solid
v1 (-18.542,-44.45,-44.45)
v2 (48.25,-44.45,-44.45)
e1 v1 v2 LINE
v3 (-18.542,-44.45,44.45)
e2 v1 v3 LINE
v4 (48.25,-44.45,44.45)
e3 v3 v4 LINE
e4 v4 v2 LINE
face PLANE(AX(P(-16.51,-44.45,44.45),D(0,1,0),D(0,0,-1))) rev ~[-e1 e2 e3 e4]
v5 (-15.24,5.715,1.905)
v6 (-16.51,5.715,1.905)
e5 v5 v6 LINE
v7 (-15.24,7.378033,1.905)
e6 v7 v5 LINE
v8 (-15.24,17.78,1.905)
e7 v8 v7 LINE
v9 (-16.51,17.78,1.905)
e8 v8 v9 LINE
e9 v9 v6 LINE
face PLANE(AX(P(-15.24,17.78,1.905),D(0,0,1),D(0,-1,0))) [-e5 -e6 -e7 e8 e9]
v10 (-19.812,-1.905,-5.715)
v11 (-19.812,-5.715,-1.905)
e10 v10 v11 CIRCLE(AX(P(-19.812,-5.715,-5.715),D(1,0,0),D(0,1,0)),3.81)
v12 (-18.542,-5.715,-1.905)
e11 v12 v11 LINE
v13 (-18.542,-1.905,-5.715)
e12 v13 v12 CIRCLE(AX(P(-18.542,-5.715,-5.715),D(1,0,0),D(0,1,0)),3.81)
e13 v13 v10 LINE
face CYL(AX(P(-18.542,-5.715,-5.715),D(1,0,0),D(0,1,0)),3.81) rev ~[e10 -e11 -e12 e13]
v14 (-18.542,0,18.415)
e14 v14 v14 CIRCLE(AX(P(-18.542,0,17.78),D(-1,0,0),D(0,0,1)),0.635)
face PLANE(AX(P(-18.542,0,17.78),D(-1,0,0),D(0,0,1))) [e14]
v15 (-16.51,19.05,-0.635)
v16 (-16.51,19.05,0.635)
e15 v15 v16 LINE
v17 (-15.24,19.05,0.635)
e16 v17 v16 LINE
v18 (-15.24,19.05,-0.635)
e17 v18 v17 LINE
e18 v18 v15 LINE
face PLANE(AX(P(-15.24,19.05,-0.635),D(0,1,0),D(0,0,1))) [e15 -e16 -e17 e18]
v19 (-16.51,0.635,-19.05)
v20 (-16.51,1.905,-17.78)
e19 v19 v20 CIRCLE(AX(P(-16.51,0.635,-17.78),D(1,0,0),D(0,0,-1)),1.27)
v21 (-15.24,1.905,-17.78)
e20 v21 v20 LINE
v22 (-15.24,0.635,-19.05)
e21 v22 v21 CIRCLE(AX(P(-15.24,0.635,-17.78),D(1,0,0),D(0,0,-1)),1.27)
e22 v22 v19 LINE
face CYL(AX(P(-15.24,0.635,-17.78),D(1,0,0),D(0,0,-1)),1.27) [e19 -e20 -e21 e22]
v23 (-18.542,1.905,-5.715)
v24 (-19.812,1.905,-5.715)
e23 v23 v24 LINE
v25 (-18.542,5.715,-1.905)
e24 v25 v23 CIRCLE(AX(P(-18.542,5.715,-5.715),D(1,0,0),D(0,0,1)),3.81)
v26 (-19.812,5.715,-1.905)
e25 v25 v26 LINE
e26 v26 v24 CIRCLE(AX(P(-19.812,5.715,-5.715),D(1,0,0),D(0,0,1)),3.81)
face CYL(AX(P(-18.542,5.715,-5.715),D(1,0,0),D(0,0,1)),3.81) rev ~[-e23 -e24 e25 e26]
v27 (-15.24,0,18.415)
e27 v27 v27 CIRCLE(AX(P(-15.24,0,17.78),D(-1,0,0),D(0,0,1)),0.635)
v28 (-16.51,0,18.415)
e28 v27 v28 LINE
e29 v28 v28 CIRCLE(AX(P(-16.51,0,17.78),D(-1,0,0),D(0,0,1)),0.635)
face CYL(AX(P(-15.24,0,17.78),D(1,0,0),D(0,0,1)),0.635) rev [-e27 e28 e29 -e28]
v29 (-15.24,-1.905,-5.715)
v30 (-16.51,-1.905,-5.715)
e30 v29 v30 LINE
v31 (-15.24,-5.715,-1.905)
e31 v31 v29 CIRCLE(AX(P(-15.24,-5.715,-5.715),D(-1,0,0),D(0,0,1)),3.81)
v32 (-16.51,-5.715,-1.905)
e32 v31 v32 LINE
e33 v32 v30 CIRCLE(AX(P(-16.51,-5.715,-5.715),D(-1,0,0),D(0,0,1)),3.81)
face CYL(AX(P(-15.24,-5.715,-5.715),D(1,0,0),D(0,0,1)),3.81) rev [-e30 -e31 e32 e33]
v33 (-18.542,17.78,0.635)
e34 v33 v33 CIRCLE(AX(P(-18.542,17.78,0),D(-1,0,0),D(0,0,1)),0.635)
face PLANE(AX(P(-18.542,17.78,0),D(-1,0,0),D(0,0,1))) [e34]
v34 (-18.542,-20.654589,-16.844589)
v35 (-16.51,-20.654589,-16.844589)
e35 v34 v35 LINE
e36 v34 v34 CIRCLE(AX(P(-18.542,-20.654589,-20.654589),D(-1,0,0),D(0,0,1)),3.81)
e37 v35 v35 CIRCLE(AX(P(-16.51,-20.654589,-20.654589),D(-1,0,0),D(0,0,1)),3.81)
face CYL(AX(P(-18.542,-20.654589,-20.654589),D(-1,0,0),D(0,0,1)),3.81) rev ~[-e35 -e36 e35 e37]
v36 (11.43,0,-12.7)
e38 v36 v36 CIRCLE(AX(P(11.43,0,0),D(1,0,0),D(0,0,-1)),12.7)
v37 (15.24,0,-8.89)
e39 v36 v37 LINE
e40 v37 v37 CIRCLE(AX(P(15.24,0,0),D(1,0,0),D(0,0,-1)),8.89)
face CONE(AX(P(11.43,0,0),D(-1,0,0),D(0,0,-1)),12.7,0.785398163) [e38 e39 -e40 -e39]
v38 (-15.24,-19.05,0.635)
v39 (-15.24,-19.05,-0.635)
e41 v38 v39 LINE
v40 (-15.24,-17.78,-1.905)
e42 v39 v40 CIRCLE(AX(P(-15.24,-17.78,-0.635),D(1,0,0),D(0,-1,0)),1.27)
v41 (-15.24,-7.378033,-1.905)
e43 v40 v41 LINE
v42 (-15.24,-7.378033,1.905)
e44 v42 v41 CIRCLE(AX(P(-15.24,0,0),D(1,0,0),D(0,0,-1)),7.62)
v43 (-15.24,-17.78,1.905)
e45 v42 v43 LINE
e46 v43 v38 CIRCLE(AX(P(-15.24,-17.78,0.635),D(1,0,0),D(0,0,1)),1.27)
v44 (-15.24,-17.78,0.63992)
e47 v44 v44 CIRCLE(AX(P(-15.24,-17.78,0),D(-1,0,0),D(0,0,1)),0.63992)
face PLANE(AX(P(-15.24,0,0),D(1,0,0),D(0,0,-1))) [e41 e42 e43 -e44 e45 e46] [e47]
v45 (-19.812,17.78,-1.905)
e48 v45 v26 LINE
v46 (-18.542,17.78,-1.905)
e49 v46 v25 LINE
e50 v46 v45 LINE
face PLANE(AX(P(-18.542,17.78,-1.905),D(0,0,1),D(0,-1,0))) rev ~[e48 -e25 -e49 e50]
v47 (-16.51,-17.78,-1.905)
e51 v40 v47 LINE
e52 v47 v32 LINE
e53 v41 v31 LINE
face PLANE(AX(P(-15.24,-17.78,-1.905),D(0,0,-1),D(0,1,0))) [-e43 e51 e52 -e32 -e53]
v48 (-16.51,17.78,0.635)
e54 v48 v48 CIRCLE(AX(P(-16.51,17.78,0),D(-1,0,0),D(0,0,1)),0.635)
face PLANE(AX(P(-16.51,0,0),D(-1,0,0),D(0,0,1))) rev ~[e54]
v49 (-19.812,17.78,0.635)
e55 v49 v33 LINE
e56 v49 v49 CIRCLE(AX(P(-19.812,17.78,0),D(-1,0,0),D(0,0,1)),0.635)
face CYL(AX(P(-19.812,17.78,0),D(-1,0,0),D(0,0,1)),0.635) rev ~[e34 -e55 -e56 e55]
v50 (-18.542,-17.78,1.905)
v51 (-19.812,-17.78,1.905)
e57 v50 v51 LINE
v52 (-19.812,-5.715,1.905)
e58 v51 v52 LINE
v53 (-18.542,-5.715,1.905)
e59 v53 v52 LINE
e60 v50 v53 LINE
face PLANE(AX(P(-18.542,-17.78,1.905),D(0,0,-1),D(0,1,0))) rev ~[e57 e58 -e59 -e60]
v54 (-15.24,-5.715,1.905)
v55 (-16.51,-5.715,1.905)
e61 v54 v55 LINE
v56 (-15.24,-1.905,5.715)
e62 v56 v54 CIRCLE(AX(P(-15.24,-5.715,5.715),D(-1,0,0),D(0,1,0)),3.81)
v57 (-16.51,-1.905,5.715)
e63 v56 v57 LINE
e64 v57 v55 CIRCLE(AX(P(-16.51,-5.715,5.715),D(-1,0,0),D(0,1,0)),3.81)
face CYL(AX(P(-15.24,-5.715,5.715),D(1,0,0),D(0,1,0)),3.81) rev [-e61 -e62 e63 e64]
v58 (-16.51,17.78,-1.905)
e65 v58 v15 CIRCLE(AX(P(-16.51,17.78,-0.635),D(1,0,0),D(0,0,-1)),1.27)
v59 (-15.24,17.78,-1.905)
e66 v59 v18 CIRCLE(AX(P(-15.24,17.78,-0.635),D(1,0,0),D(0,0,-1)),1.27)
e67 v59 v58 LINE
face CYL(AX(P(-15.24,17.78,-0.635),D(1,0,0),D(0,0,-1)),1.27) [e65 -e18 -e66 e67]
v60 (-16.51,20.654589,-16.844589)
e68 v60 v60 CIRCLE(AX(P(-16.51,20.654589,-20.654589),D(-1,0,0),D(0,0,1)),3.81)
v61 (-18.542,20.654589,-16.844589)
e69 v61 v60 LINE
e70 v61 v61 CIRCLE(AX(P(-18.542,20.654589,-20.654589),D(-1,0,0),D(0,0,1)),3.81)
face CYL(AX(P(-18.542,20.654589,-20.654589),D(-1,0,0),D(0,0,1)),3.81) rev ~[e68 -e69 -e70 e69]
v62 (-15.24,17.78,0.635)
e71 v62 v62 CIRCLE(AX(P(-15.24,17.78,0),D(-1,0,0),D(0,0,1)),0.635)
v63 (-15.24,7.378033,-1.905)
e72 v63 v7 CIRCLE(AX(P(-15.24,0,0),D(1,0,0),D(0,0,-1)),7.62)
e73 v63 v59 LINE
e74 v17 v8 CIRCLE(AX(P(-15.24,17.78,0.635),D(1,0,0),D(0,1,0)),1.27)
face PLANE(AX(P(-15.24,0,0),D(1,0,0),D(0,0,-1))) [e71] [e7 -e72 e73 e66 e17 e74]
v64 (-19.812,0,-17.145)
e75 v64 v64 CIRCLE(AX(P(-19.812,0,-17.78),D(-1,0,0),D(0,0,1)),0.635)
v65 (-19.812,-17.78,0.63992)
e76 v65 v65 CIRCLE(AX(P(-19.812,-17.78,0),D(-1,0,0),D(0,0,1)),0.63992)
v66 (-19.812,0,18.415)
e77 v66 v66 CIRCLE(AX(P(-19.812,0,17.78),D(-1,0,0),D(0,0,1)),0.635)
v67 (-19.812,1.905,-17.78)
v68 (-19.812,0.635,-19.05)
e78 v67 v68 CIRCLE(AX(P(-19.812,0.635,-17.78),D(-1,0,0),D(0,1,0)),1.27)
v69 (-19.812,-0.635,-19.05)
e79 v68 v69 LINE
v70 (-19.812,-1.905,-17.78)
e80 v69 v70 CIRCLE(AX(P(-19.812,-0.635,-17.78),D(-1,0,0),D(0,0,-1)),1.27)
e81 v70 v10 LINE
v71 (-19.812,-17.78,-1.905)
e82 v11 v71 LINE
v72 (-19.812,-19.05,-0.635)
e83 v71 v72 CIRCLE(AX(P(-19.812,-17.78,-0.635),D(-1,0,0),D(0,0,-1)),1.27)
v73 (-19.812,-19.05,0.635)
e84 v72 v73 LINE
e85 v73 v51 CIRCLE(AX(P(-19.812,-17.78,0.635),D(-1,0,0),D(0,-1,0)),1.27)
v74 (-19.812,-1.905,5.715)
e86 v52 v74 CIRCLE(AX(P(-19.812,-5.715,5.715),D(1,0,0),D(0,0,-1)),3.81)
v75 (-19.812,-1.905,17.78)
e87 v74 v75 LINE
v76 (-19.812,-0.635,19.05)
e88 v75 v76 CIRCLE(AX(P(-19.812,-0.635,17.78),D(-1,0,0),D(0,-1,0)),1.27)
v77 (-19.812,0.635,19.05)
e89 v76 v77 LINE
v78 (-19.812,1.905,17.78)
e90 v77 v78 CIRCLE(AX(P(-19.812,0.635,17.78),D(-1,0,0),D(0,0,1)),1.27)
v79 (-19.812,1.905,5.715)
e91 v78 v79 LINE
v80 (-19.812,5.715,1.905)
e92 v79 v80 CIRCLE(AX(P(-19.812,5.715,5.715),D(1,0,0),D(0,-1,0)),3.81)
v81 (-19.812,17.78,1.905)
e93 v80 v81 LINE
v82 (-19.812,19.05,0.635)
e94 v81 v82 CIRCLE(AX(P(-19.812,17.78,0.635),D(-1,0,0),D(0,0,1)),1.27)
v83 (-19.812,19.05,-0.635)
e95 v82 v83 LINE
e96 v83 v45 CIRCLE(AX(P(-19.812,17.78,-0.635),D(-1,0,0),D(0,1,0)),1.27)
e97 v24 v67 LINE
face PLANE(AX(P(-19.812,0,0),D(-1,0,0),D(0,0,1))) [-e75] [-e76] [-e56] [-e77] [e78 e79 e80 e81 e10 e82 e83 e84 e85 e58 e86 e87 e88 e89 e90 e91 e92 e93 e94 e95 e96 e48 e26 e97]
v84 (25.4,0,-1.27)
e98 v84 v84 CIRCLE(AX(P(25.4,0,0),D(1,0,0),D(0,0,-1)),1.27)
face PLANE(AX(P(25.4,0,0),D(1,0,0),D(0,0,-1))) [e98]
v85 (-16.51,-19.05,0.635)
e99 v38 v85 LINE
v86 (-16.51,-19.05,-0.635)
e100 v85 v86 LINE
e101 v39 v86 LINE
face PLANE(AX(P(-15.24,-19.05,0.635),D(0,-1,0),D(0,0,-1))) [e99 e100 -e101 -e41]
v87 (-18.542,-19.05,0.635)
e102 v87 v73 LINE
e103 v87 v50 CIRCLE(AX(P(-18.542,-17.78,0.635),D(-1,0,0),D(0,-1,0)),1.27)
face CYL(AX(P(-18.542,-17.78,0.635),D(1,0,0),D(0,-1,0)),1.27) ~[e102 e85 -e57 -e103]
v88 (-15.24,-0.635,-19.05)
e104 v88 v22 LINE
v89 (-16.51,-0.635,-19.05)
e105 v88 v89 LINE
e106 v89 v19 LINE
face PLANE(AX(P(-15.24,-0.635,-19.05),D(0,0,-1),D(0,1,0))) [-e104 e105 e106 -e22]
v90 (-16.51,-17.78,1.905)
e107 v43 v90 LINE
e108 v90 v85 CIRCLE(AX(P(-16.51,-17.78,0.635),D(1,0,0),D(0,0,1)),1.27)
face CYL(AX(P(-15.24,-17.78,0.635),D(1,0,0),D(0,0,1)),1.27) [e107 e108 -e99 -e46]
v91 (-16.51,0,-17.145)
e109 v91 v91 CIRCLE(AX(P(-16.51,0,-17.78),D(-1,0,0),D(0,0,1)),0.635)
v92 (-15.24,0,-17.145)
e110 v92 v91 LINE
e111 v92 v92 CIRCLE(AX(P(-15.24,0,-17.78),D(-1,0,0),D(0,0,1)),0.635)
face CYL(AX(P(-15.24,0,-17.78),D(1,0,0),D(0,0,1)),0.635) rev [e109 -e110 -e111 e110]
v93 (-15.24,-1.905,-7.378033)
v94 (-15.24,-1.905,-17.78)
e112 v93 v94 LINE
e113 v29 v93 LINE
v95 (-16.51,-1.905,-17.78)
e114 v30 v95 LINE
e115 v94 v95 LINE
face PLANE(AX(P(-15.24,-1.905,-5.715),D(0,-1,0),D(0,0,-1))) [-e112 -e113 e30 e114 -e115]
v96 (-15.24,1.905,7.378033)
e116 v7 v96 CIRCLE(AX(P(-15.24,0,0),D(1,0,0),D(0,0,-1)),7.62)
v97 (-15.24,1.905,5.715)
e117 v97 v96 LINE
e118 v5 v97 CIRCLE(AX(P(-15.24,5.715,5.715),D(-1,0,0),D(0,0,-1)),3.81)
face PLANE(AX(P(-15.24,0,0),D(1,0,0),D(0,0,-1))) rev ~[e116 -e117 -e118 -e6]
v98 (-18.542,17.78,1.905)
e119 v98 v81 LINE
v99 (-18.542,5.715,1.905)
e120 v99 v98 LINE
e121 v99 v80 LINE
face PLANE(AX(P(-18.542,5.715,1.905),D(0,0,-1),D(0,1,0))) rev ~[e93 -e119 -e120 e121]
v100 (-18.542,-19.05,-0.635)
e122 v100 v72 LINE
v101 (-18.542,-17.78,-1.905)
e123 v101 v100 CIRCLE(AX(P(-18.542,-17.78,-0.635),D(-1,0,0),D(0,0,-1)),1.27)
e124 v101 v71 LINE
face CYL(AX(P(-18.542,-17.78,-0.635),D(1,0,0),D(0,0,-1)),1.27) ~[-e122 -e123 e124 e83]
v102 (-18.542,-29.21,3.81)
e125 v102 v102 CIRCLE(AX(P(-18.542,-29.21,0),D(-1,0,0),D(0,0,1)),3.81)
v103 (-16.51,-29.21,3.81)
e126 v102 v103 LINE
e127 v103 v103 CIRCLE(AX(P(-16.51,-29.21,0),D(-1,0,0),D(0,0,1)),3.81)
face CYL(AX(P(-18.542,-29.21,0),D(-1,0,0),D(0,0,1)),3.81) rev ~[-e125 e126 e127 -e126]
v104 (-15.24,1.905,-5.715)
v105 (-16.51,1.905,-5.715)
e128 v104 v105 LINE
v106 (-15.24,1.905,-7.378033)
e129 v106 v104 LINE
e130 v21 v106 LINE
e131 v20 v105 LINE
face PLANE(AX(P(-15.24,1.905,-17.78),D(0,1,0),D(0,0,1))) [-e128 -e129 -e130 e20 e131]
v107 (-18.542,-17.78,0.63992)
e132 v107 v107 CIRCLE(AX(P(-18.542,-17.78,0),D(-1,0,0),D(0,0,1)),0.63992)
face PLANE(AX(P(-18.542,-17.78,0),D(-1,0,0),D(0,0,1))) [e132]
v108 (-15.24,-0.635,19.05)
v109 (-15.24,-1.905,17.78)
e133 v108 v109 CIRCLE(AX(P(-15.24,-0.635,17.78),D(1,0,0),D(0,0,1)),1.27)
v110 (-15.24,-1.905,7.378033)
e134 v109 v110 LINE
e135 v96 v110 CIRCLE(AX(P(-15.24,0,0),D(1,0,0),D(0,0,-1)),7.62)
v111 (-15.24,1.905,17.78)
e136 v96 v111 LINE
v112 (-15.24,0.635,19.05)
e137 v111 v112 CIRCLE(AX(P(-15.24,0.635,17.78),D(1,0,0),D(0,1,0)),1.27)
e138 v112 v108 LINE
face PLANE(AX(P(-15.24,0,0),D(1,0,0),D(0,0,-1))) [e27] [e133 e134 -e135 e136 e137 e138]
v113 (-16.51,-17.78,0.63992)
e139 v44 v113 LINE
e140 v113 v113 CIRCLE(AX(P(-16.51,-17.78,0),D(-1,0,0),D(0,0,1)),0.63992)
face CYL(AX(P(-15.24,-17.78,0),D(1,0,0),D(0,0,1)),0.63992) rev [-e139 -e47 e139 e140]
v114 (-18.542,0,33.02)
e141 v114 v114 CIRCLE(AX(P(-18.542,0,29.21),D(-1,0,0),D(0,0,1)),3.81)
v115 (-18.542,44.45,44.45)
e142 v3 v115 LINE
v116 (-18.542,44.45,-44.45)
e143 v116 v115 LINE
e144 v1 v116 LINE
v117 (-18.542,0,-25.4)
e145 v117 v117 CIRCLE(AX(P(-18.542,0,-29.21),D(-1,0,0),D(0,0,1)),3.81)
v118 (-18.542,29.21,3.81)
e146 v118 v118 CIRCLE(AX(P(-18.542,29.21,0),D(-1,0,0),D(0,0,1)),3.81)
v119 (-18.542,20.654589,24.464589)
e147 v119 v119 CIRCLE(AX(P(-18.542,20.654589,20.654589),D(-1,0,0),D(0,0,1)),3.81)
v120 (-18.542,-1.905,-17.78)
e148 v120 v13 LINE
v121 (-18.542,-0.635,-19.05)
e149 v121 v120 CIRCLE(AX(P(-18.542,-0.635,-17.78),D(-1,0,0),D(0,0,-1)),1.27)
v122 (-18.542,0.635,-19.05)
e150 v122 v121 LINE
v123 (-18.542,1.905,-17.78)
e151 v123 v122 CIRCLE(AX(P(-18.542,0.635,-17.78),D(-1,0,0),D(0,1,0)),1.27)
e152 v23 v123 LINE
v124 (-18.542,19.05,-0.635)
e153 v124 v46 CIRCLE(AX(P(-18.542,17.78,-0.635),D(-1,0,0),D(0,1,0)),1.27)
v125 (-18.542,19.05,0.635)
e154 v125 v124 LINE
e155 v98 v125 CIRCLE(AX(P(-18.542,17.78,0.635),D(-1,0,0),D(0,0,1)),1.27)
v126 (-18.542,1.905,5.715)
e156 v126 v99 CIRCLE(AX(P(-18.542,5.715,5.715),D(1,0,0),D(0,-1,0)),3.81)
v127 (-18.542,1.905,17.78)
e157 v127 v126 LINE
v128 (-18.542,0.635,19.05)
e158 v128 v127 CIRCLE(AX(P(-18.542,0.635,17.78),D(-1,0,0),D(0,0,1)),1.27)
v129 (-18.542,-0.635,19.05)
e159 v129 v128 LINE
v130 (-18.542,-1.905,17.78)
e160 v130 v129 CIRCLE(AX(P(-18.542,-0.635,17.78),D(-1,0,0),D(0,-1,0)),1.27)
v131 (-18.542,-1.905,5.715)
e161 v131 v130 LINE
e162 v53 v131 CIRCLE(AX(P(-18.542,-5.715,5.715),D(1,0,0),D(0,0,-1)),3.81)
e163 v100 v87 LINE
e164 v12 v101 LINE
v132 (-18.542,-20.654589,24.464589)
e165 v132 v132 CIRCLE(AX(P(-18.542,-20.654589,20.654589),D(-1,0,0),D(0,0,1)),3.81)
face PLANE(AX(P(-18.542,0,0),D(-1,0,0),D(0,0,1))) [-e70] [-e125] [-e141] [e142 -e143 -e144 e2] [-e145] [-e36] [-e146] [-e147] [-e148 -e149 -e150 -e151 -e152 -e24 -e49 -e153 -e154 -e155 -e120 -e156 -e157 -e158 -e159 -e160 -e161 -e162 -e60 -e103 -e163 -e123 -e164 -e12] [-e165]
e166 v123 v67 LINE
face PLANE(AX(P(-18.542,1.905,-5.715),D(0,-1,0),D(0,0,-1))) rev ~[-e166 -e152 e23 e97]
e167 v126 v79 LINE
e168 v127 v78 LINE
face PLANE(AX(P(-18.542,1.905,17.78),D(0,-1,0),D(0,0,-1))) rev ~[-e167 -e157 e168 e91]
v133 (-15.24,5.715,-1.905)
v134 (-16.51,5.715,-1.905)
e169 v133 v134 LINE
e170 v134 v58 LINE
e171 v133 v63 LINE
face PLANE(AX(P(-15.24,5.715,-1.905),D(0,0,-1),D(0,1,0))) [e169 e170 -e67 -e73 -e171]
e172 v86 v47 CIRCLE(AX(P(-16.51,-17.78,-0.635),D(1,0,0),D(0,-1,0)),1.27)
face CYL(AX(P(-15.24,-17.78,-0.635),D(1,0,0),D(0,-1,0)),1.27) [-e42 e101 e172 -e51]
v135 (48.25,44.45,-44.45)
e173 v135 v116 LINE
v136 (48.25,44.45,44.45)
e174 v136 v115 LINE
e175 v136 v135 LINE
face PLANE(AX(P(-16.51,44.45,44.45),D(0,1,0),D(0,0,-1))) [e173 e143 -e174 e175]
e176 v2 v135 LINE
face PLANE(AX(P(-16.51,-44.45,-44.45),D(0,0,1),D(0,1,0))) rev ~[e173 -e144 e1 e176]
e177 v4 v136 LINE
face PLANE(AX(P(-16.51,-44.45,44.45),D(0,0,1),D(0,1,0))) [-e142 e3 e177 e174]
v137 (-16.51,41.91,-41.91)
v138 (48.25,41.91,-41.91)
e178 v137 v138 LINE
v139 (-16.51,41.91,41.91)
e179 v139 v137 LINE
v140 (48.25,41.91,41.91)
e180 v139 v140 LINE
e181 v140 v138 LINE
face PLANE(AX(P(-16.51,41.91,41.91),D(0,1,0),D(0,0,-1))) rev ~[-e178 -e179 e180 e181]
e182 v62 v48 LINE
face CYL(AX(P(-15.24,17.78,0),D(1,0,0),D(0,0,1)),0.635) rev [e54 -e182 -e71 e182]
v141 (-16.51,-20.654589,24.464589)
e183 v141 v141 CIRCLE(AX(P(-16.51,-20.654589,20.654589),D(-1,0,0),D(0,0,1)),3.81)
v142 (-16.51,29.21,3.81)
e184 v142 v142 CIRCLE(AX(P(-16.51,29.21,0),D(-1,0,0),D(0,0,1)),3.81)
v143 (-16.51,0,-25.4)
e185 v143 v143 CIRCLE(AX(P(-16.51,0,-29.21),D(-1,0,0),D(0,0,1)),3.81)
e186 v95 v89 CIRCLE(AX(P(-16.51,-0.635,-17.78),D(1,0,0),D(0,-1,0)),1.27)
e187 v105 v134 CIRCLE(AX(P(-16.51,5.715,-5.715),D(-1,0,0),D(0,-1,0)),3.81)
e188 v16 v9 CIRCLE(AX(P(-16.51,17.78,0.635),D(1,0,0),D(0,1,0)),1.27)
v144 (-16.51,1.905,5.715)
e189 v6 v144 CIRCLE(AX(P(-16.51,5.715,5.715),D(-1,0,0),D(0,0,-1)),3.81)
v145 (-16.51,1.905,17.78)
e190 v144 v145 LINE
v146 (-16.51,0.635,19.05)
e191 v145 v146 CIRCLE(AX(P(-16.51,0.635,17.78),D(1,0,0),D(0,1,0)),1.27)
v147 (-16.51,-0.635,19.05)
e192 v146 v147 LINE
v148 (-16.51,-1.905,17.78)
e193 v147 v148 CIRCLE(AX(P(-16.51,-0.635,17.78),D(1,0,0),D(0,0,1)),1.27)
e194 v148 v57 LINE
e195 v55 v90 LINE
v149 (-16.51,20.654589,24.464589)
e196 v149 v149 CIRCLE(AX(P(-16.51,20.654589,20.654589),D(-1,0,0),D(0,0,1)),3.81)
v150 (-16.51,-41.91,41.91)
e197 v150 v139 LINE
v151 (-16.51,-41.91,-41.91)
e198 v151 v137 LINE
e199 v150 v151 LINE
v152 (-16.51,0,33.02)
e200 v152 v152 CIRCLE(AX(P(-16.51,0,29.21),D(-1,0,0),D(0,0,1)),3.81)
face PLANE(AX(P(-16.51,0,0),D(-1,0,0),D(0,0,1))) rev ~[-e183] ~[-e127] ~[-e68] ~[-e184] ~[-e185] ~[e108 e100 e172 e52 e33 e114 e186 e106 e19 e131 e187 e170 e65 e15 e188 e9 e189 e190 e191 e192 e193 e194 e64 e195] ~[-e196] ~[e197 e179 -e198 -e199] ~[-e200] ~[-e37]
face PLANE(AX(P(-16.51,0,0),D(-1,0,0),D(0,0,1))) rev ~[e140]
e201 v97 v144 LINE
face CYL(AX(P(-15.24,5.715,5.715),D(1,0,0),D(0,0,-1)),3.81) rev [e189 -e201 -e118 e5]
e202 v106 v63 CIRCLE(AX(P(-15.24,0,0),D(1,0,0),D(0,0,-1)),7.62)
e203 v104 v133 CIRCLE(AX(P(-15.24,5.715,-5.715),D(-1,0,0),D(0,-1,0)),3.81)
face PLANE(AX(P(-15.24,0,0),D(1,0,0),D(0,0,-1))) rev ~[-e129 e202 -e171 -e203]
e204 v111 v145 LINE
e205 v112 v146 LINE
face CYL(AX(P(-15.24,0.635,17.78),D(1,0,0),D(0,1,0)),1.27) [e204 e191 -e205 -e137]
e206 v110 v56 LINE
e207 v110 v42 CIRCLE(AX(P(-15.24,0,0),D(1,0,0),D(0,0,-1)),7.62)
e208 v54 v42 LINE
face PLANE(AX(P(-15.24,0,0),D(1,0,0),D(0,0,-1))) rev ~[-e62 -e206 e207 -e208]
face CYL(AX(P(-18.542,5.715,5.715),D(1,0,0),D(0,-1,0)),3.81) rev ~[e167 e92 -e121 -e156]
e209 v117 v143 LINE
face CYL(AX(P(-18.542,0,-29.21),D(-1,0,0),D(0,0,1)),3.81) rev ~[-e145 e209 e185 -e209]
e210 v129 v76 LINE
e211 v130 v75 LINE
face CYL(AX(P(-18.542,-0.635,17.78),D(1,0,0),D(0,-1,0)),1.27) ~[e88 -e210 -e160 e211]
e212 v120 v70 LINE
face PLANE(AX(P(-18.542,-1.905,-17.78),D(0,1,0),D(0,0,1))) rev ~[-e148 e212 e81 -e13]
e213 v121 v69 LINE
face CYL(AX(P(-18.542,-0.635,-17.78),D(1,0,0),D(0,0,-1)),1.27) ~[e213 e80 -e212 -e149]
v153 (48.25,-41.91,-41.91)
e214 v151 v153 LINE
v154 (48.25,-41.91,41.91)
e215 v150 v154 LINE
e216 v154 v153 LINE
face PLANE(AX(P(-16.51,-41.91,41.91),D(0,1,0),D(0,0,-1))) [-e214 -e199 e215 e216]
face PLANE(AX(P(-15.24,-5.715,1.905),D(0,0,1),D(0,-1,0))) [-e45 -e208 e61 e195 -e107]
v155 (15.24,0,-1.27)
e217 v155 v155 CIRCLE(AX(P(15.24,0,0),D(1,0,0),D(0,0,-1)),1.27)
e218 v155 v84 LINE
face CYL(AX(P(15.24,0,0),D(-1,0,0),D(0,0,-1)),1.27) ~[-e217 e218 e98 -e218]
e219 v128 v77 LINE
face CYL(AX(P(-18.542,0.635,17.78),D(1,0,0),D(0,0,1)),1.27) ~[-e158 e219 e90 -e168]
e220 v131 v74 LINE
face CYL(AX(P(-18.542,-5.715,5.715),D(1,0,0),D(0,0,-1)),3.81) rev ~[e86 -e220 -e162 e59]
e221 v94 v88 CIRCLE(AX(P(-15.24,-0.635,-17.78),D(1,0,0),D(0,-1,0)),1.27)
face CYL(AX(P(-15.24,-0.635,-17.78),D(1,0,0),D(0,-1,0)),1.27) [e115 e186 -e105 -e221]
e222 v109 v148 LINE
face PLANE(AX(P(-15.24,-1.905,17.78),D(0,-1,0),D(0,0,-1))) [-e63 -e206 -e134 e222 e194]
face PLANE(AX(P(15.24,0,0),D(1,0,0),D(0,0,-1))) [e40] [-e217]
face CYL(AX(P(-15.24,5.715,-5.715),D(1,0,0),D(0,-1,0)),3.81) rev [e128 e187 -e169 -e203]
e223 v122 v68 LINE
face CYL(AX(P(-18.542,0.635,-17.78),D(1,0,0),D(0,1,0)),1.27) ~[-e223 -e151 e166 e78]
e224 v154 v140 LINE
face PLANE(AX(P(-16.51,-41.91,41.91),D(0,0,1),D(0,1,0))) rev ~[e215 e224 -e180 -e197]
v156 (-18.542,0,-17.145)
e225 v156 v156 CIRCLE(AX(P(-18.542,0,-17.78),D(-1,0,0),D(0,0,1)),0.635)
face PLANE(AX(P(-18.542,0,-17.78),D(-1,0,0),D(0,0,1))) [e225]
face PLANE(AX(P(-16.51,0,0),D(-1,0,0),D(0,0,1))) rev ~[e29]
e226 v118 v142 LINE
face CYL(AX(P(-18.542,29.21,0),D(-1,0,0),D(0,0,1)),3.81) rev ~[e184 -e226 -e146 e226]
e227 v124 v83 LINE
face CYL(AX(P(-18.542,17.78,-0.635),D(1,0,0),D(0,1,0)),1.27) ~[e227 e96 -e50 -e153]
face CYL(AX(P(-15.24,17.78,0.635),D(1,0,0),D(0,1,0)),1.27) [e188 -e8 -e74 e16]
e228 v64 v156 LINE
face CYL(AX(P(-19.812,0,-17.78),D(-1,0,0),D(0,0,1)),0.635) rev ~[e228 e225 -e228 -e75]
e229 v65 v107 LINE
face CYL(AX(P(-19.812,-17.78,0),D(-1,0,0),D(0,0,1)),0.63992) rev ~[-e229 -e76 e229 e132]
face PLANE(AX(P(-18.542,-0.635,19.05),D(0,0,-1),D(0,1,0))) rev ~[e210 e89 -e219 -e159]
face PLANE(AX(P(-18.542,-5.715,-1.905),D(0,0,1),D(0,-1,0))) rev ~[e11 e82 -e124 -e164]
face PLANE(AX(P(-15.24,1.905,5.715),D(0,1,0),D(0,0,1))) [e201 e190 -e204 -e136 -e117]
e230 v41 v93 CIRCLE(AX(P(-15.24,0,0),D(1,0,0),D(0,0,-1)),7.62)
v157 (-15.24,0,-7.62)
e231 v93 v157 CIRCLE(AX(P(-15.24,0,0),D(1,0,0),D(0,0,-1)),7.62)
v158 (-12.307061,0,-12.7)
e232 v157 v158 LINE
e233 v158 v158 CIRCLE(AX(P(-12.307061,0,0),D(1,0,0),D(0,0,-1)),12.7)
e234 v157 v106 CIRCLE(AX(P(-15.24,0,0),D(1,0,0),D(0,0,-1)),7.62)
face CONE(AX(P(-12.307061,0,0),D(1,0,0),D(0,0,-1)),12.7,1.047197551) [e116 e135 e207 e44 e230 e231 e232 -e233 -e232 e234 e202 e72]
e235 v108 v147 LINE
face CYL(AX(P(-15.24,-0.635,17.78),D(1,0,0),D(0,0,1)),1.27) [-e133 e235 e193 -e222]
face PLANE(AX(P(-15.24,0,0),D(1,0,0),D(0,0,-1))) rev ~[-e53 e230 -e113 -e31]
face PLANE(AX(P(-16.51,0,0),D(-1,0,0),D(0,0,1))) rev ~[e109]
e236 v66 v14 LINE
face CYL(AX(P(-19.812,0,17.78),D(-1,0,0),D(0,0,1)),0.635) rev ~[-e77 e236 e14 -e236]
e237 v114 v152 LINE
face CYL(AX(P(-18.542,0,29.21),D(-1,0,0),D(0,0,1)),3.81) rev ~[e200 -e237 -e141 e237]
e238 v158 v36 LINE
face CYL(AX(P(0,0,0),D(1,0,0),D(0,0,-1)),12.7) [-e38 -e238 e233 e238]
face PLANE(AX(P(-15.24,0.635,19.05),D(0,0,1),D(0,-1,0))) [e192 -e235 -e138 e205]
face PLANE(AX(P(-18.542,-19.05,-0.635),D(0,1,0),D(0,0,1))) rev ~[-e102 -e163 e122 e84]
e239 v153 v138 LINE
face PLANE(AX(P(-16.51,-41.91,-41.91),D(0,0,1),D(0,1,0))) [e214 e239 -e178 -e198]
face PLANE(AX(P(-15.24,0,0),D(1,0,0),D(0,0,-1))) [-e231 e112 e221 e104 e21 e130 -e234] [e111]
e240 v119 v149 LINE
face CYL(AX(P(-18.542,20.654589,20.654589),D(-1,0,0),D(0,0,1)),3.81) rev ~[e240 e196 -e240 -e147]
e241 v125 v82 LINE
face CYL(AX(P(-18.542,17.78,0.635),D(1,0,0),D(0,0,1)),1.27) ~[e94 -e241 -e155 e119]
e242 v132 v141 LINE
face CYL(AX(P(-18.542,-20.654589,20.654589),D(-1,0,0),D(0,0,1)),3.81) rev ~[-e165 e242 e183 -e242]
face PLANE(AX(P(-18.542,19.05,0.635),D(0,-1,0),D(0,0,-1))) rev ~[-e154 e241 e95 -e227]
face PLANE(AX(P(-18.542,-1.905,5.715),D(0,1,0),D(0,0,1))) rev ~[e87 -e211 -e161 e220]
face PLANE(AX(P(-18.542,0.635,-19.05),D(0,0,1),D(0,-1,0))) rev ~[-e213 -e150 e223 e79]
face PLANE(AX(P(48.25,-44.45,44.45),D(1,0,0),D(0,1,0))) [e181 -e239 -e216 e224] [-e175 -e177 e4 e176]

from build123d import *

# Parameters (mm, degrees)
SKETCH1_R           = 12.7
BOSS_EXTRUDE1_DEPTH = 15.24
CHAMFER1_SIZE       = 3.81
CHAMFER3_SIZE       = 5.08
CHAMFER3_SIZE2      = 2.932939367
SKETCH2_R           = 1.27
BOSS_EXTRUDE3_DEPTH = 10.16
SKETCH3_R           = 0.639919682
SKETCH3_R_2         = 0.635
BOSS_EXTRUDE5_DEPTH = 1.27
SKETCH4_W           = 88.9
SKETCH4_H           = 88.9
BOSS_EXTRUDE6_DEPTH = 2.032
SKETCH5_R           = 3.81
CUT_EXTRUDE2_DEPTH  = 44.942
BOSS_EXTRUDE7_DEPTH = 1.27
SKETCH8_R           = 0.635
SKETCH8_R_2         = 0.639919682
CUT_EXTRUDE3_DEPTH  = 1.27
SKETCH9_W           = 88.9
SKETCH9_H           = 88.9
SKETCH9_W_2         = 83.82
SKETCH9_H_2         = 83.82
BOSS_EXTRUDE8_DEPTH = 80
SKETCH11_W          = 15.24
SKETCH11_H          = 88.9
CUT_EXTRUDE4_DEPTH  = 89.9


with BuildPart() as part:
    # Sketch1 → Boss-Extrude1 (new body, symmetric)
    with BuildSketch(Plane(origin=(0, 0, 0), x_dir=(0, 0, -1), z_dir=(1, 0, 0))):
        Circle(SKETCH1_R)
    extrude(amount=BOSS_EXTRUDE1_DEPTH, both=True)

    # Chamfer1
    chamfer1_edges = [part.edges().sort_by_distance(p)[0] for p in [
        (15.24, 0, 12.7),
    ]]
    chamfer(chamfer1_edges, length=CHAMFER1_SIZE)

    # Chamfer3
    chamfer3_edges = [part.edges().sort_by_distance(p)[0] for p in [
        (-15.24, 0, 12.7),
    ]]
    chamfer3_side = [part.faces().sort_by_distance(p)[0] for p in [
        (-15.24, 0, 0),
    ]]
    chamfer(chamfer3_edges, length=CHAMFER3_SIZE, length2=CHAMFER3_SIZE2, reference=chamfer3_side[0])

    # Sketch2 → Boss-Extrude3 (add)
    with BuildSketch(Plane(origin=(15.24, 0, 0), x_dir=(0, 0, -1), z_dir=(1, 0, 0))):
        Circle(SKETCH2_R)
    extrude(amount=BOSS_EXTRUDE3_DEPTH)

    # Sketch3 → Boss-Extrude5 (add)
    with BuildSketch(Plane.ZY.offset(15.24)):
        with BuildLine():
            Line((-5.715, -1.905), (-17.78, -1.905))
            ThreePointArc((-17.78, -1.905), (-18.678025612, -1.533025612), (-19.05, -0.635))
            Line((-19.05, -0.635), (-19.05, 0.635))
            ThreePointArc((-19.05, 0.635), (-18.678025612, 1.533025612), (-17.78, 1.905))
            Line((-17.78, 1.905), (-5.715, 1.905))
            ThreePointArc((-5.715, 1.905), (-3.020923164, 3.020923164), (-1.905, 5.715))
            Line((-1.905, 5.715), (-1.905, 17.78))
            ThreePointArc((-1.905, 17.78), (-1.533025612, 18.678025612), (-0.635, 19.05))
            Line((-0.635, 19.05), (0.635, 19.05))
            ThreePointArc((0.635, 19.05), (1.533025612, 18.678025612), (1.905, 17.78))
            Line((1.905, 17.78), (1.905, 5.715))
            ThreePointArc((1.905, 5.715), (3.020923164, 3.020923164), (5.715, 1.905))
            Line((5.715, 1.905), (17.78, 1.905))
            ThreePointArc((17.78, 1.905), (18.678025612, 1.533025612), (19.05, 0.635))
            Line((19.05, 0.635), (19.05, -0.635))
            ThreePointArc((19.05, -0.635), (18.678025612, -1.533025612), (17.78, -1.905))
            Line((17.78, -1.905), (5.715, -1.905))
            ThreePointArc((5.715, -1.905), (3.020923164, -3.020923164), (1.905, -5.715))
            Line((1.905, -5.715), (1.905, -17.78))
            ThreePointArc((1.905, -17.78), (1.533025612, -18.678025612), (0.635, -19.05))
            Line((0.635, -19.05), (-0.635, -19.05))
            ThreePointArc((-0.635, -19.05), (-1.533025612, -18.678025612), (-1.905, -17.78))
            Line((-1.905, -17.78), (-1.905, -5.715))
            ThreePointArc((-1.905, -5.715), (-3.020923164, -3.020923164), (-5.715, -1.905))
        make_face()
        with Locations((0, -17.78)):
            Circle(SKETCH3_R, mode=Mode.SUBTRACT)
        with Locations((17.78, 0)):
            Circle(SKETCH3_R_2, mode=Mode.SUBTRACT)
        with Locations((0, 17.78)):
            Circle(SKETCH3_R_2, mode=Mode.SUBTRACT)
        with Locations((-17.78, 0)):
            Circle(SKETCH3_R_2, mode=Mode.SUBTRACT)
    extrude(amount=BOSS_EXTRUDE5_DEPTH)

    # Sketch4 → Boss-Extrude6 (add)
    with BuildSketch(Plane.ZY.offset(16.51)):
        Rectangle(SKETCH4_W, SKETCH4_H)
    extrude(amount=BOSS_EXTRUDE6_DEPTH)

    # Sketch5 → Cut-Extrude2 (cut, through all)
    with BuildSketch(Plane.ZY.offset(18.542)):
        with Locations((0, 29.21)):
            Circle(SKETCH5_R)
        with Locations((20.654589078, 20.654589078)):
            Circle(SKETCH5_R)
        with Locations((29.21, 0)):
            Circle(SKETCH5_R)
        with Locations((20.654589078, -20.654589078)):
            Circle(SKETCH5_R)
        with Locations((0, -29.21)):
            Circle(SKETCH5_R)
        with Locations((-20.654589078, -20.654589078)):
            Circle(SKETCH5_R)
        with Locations((-29.21, 0)):
            Circle(SKETCH5_R)
        with Locations((-20.654589078, 20.654589078)):
            Circle(SKETCH5_R)
    extrude(amount=-CUT_EXTRUDE2_DEPTH, mode=Mode.SUBTRACT)

    # Sketch7 → Boss-Extrude7 (add)
    with BuildSketch(Plane.ZY.offset(18.542)):
        with BuildLine():
            Line((1.905, 5.715), (1.905, 7.378033275))
            Line((1.905, 7.378033275), (1.905, 17.78))
            ThreePointArc((1.905, 17.78), (1.533025612, 18.678025612), (0.635, 19.05))
            Line((0.635, 19.05), (-0.635, 19.05))
            ThreePointArc((-0.635, 19.05), (-1.533025612, 18.678025612), (-1.905, 17.78))
            Line((-1.905, 17.78), (-1.905, 5.715))
            ThreePointArc((-1.905, 5.715), (-3.020923164, 3.020923164), (-5.715, 1.905))
            Line((-5.715, 1.905), (-7.378033275, 1.905))
            Line((-7.378033275, 1.905), (-17.78, 1.905))
            ThreePointArc((-17.78, 1.905), (-18.678025612, 1.533025612), (-19.05, 0.635))
            Line((-19.05, 0.635), (-19.05, -0.635))
            ThreePointArc((-19.05, -0.635), (-18.678025612, -1.533025612), (-17.78, -1.905))
            Line((-17.78, -1.905), (-7.378033275, -1.905))
            Line((-7.378033275, -1.905), (-5.715, -1.905))
            ThreePointArc((-5.715, -1.905), (-3.020923164, -3.020923164), (-1.905, -5.715))
            Line((-1.905, -5.715), (-1.905, -7.378033275))
            Line((-1.905, -7.378033275), (-1.905, -17.78))
            ThreePointArc((-1.905, -17.78), (-1.533025612, -18.678025612), (-0.635, -19.05))
            Line((-0.635, -19.05), (0.635, -19.05))
            ThreePointArc((0.635, -19.05), (1.533025612, -18.678025612), (1.905, -17.78))
            Line((1.905, -17.78), (1.905, -7.378033275))
            Line((1.905, -7.378033275), (1.905, -5.715))
            ThreePointArc((1.905, -5.715), (3.020923164, -3.020923164), (5.715, -1.905))
            Line((5.715, -1.905), (7.378033275, -1.905))
            Line((7.378033275, -1.905), (17.78, -1.905))
            ThreePointArc((17.78, -1.905), (18.678025612, -1.533025612), (19.05, -0.635))
            Line((19.05, -0.635), (19.05, 0.635))
            ThreePointArc((19.05, 0.635), (18.678025612, 1.533025612), (17.78, 1.905))
            Line((17.78, 1.905), (7.378033275, 1.905))
            Line((7.378033275, 1.905), (5.715, 1.905))
            ThreePointArc((5.715, 1.905), (3.020923164, 3.020923164), (1.905, 5.715))
        make_face()
    extrude(amount=BOSS_EXTRUDE7_DEPTH)

    # Sketch8 → Cut-Extrude3 (cut)
    with BuildSketch(Plane.ZY.offset(19.812)):
        with Locations((0, 17.78)):
            Circle(SKETCH8_R)
        with Locations((17.78, 0)):
            Circle(SKETCH8_R)
        with Locations((0, -17.78)):
            Circle(SKETCH8_R_2)
        with Locations((-17.78, 0)):
            Circle(SKETCH8_R)
    extrude(amount=-CUT_EXTRUDE3_DEPTH, mode=Mode.SUBTRACT)

    # Sketch9 → Boss-Extrude8 (add)
    with BuildSketch(Plane(origin=(-16.51, 0, 0), x_dir=(0, 0, -1), z_dir=(1, 0, 0))):
        Rectangle(SKETCH9_W, SKETCH9_H)
        Rectangle(SKETCH9_W_2, SKETCH9_H_2, mode=Mode.SUBTRACT)
    extrude(amount=BOSS_EXTRUDE8_DEPTH)

    # Sketch11 → Cut-Extrude4 (cut, through all)
    with BuildSketch(Plane.XY.offset(44.45)):
        with Locations((55.87, 0)):
            Rectangle(SKETCH11_W, SKETCH11_H)
    extrude(amount=-CUT_EXTRUDE4_DEPTH, mode=Mode.SUBTRACT)


solid = part.part
